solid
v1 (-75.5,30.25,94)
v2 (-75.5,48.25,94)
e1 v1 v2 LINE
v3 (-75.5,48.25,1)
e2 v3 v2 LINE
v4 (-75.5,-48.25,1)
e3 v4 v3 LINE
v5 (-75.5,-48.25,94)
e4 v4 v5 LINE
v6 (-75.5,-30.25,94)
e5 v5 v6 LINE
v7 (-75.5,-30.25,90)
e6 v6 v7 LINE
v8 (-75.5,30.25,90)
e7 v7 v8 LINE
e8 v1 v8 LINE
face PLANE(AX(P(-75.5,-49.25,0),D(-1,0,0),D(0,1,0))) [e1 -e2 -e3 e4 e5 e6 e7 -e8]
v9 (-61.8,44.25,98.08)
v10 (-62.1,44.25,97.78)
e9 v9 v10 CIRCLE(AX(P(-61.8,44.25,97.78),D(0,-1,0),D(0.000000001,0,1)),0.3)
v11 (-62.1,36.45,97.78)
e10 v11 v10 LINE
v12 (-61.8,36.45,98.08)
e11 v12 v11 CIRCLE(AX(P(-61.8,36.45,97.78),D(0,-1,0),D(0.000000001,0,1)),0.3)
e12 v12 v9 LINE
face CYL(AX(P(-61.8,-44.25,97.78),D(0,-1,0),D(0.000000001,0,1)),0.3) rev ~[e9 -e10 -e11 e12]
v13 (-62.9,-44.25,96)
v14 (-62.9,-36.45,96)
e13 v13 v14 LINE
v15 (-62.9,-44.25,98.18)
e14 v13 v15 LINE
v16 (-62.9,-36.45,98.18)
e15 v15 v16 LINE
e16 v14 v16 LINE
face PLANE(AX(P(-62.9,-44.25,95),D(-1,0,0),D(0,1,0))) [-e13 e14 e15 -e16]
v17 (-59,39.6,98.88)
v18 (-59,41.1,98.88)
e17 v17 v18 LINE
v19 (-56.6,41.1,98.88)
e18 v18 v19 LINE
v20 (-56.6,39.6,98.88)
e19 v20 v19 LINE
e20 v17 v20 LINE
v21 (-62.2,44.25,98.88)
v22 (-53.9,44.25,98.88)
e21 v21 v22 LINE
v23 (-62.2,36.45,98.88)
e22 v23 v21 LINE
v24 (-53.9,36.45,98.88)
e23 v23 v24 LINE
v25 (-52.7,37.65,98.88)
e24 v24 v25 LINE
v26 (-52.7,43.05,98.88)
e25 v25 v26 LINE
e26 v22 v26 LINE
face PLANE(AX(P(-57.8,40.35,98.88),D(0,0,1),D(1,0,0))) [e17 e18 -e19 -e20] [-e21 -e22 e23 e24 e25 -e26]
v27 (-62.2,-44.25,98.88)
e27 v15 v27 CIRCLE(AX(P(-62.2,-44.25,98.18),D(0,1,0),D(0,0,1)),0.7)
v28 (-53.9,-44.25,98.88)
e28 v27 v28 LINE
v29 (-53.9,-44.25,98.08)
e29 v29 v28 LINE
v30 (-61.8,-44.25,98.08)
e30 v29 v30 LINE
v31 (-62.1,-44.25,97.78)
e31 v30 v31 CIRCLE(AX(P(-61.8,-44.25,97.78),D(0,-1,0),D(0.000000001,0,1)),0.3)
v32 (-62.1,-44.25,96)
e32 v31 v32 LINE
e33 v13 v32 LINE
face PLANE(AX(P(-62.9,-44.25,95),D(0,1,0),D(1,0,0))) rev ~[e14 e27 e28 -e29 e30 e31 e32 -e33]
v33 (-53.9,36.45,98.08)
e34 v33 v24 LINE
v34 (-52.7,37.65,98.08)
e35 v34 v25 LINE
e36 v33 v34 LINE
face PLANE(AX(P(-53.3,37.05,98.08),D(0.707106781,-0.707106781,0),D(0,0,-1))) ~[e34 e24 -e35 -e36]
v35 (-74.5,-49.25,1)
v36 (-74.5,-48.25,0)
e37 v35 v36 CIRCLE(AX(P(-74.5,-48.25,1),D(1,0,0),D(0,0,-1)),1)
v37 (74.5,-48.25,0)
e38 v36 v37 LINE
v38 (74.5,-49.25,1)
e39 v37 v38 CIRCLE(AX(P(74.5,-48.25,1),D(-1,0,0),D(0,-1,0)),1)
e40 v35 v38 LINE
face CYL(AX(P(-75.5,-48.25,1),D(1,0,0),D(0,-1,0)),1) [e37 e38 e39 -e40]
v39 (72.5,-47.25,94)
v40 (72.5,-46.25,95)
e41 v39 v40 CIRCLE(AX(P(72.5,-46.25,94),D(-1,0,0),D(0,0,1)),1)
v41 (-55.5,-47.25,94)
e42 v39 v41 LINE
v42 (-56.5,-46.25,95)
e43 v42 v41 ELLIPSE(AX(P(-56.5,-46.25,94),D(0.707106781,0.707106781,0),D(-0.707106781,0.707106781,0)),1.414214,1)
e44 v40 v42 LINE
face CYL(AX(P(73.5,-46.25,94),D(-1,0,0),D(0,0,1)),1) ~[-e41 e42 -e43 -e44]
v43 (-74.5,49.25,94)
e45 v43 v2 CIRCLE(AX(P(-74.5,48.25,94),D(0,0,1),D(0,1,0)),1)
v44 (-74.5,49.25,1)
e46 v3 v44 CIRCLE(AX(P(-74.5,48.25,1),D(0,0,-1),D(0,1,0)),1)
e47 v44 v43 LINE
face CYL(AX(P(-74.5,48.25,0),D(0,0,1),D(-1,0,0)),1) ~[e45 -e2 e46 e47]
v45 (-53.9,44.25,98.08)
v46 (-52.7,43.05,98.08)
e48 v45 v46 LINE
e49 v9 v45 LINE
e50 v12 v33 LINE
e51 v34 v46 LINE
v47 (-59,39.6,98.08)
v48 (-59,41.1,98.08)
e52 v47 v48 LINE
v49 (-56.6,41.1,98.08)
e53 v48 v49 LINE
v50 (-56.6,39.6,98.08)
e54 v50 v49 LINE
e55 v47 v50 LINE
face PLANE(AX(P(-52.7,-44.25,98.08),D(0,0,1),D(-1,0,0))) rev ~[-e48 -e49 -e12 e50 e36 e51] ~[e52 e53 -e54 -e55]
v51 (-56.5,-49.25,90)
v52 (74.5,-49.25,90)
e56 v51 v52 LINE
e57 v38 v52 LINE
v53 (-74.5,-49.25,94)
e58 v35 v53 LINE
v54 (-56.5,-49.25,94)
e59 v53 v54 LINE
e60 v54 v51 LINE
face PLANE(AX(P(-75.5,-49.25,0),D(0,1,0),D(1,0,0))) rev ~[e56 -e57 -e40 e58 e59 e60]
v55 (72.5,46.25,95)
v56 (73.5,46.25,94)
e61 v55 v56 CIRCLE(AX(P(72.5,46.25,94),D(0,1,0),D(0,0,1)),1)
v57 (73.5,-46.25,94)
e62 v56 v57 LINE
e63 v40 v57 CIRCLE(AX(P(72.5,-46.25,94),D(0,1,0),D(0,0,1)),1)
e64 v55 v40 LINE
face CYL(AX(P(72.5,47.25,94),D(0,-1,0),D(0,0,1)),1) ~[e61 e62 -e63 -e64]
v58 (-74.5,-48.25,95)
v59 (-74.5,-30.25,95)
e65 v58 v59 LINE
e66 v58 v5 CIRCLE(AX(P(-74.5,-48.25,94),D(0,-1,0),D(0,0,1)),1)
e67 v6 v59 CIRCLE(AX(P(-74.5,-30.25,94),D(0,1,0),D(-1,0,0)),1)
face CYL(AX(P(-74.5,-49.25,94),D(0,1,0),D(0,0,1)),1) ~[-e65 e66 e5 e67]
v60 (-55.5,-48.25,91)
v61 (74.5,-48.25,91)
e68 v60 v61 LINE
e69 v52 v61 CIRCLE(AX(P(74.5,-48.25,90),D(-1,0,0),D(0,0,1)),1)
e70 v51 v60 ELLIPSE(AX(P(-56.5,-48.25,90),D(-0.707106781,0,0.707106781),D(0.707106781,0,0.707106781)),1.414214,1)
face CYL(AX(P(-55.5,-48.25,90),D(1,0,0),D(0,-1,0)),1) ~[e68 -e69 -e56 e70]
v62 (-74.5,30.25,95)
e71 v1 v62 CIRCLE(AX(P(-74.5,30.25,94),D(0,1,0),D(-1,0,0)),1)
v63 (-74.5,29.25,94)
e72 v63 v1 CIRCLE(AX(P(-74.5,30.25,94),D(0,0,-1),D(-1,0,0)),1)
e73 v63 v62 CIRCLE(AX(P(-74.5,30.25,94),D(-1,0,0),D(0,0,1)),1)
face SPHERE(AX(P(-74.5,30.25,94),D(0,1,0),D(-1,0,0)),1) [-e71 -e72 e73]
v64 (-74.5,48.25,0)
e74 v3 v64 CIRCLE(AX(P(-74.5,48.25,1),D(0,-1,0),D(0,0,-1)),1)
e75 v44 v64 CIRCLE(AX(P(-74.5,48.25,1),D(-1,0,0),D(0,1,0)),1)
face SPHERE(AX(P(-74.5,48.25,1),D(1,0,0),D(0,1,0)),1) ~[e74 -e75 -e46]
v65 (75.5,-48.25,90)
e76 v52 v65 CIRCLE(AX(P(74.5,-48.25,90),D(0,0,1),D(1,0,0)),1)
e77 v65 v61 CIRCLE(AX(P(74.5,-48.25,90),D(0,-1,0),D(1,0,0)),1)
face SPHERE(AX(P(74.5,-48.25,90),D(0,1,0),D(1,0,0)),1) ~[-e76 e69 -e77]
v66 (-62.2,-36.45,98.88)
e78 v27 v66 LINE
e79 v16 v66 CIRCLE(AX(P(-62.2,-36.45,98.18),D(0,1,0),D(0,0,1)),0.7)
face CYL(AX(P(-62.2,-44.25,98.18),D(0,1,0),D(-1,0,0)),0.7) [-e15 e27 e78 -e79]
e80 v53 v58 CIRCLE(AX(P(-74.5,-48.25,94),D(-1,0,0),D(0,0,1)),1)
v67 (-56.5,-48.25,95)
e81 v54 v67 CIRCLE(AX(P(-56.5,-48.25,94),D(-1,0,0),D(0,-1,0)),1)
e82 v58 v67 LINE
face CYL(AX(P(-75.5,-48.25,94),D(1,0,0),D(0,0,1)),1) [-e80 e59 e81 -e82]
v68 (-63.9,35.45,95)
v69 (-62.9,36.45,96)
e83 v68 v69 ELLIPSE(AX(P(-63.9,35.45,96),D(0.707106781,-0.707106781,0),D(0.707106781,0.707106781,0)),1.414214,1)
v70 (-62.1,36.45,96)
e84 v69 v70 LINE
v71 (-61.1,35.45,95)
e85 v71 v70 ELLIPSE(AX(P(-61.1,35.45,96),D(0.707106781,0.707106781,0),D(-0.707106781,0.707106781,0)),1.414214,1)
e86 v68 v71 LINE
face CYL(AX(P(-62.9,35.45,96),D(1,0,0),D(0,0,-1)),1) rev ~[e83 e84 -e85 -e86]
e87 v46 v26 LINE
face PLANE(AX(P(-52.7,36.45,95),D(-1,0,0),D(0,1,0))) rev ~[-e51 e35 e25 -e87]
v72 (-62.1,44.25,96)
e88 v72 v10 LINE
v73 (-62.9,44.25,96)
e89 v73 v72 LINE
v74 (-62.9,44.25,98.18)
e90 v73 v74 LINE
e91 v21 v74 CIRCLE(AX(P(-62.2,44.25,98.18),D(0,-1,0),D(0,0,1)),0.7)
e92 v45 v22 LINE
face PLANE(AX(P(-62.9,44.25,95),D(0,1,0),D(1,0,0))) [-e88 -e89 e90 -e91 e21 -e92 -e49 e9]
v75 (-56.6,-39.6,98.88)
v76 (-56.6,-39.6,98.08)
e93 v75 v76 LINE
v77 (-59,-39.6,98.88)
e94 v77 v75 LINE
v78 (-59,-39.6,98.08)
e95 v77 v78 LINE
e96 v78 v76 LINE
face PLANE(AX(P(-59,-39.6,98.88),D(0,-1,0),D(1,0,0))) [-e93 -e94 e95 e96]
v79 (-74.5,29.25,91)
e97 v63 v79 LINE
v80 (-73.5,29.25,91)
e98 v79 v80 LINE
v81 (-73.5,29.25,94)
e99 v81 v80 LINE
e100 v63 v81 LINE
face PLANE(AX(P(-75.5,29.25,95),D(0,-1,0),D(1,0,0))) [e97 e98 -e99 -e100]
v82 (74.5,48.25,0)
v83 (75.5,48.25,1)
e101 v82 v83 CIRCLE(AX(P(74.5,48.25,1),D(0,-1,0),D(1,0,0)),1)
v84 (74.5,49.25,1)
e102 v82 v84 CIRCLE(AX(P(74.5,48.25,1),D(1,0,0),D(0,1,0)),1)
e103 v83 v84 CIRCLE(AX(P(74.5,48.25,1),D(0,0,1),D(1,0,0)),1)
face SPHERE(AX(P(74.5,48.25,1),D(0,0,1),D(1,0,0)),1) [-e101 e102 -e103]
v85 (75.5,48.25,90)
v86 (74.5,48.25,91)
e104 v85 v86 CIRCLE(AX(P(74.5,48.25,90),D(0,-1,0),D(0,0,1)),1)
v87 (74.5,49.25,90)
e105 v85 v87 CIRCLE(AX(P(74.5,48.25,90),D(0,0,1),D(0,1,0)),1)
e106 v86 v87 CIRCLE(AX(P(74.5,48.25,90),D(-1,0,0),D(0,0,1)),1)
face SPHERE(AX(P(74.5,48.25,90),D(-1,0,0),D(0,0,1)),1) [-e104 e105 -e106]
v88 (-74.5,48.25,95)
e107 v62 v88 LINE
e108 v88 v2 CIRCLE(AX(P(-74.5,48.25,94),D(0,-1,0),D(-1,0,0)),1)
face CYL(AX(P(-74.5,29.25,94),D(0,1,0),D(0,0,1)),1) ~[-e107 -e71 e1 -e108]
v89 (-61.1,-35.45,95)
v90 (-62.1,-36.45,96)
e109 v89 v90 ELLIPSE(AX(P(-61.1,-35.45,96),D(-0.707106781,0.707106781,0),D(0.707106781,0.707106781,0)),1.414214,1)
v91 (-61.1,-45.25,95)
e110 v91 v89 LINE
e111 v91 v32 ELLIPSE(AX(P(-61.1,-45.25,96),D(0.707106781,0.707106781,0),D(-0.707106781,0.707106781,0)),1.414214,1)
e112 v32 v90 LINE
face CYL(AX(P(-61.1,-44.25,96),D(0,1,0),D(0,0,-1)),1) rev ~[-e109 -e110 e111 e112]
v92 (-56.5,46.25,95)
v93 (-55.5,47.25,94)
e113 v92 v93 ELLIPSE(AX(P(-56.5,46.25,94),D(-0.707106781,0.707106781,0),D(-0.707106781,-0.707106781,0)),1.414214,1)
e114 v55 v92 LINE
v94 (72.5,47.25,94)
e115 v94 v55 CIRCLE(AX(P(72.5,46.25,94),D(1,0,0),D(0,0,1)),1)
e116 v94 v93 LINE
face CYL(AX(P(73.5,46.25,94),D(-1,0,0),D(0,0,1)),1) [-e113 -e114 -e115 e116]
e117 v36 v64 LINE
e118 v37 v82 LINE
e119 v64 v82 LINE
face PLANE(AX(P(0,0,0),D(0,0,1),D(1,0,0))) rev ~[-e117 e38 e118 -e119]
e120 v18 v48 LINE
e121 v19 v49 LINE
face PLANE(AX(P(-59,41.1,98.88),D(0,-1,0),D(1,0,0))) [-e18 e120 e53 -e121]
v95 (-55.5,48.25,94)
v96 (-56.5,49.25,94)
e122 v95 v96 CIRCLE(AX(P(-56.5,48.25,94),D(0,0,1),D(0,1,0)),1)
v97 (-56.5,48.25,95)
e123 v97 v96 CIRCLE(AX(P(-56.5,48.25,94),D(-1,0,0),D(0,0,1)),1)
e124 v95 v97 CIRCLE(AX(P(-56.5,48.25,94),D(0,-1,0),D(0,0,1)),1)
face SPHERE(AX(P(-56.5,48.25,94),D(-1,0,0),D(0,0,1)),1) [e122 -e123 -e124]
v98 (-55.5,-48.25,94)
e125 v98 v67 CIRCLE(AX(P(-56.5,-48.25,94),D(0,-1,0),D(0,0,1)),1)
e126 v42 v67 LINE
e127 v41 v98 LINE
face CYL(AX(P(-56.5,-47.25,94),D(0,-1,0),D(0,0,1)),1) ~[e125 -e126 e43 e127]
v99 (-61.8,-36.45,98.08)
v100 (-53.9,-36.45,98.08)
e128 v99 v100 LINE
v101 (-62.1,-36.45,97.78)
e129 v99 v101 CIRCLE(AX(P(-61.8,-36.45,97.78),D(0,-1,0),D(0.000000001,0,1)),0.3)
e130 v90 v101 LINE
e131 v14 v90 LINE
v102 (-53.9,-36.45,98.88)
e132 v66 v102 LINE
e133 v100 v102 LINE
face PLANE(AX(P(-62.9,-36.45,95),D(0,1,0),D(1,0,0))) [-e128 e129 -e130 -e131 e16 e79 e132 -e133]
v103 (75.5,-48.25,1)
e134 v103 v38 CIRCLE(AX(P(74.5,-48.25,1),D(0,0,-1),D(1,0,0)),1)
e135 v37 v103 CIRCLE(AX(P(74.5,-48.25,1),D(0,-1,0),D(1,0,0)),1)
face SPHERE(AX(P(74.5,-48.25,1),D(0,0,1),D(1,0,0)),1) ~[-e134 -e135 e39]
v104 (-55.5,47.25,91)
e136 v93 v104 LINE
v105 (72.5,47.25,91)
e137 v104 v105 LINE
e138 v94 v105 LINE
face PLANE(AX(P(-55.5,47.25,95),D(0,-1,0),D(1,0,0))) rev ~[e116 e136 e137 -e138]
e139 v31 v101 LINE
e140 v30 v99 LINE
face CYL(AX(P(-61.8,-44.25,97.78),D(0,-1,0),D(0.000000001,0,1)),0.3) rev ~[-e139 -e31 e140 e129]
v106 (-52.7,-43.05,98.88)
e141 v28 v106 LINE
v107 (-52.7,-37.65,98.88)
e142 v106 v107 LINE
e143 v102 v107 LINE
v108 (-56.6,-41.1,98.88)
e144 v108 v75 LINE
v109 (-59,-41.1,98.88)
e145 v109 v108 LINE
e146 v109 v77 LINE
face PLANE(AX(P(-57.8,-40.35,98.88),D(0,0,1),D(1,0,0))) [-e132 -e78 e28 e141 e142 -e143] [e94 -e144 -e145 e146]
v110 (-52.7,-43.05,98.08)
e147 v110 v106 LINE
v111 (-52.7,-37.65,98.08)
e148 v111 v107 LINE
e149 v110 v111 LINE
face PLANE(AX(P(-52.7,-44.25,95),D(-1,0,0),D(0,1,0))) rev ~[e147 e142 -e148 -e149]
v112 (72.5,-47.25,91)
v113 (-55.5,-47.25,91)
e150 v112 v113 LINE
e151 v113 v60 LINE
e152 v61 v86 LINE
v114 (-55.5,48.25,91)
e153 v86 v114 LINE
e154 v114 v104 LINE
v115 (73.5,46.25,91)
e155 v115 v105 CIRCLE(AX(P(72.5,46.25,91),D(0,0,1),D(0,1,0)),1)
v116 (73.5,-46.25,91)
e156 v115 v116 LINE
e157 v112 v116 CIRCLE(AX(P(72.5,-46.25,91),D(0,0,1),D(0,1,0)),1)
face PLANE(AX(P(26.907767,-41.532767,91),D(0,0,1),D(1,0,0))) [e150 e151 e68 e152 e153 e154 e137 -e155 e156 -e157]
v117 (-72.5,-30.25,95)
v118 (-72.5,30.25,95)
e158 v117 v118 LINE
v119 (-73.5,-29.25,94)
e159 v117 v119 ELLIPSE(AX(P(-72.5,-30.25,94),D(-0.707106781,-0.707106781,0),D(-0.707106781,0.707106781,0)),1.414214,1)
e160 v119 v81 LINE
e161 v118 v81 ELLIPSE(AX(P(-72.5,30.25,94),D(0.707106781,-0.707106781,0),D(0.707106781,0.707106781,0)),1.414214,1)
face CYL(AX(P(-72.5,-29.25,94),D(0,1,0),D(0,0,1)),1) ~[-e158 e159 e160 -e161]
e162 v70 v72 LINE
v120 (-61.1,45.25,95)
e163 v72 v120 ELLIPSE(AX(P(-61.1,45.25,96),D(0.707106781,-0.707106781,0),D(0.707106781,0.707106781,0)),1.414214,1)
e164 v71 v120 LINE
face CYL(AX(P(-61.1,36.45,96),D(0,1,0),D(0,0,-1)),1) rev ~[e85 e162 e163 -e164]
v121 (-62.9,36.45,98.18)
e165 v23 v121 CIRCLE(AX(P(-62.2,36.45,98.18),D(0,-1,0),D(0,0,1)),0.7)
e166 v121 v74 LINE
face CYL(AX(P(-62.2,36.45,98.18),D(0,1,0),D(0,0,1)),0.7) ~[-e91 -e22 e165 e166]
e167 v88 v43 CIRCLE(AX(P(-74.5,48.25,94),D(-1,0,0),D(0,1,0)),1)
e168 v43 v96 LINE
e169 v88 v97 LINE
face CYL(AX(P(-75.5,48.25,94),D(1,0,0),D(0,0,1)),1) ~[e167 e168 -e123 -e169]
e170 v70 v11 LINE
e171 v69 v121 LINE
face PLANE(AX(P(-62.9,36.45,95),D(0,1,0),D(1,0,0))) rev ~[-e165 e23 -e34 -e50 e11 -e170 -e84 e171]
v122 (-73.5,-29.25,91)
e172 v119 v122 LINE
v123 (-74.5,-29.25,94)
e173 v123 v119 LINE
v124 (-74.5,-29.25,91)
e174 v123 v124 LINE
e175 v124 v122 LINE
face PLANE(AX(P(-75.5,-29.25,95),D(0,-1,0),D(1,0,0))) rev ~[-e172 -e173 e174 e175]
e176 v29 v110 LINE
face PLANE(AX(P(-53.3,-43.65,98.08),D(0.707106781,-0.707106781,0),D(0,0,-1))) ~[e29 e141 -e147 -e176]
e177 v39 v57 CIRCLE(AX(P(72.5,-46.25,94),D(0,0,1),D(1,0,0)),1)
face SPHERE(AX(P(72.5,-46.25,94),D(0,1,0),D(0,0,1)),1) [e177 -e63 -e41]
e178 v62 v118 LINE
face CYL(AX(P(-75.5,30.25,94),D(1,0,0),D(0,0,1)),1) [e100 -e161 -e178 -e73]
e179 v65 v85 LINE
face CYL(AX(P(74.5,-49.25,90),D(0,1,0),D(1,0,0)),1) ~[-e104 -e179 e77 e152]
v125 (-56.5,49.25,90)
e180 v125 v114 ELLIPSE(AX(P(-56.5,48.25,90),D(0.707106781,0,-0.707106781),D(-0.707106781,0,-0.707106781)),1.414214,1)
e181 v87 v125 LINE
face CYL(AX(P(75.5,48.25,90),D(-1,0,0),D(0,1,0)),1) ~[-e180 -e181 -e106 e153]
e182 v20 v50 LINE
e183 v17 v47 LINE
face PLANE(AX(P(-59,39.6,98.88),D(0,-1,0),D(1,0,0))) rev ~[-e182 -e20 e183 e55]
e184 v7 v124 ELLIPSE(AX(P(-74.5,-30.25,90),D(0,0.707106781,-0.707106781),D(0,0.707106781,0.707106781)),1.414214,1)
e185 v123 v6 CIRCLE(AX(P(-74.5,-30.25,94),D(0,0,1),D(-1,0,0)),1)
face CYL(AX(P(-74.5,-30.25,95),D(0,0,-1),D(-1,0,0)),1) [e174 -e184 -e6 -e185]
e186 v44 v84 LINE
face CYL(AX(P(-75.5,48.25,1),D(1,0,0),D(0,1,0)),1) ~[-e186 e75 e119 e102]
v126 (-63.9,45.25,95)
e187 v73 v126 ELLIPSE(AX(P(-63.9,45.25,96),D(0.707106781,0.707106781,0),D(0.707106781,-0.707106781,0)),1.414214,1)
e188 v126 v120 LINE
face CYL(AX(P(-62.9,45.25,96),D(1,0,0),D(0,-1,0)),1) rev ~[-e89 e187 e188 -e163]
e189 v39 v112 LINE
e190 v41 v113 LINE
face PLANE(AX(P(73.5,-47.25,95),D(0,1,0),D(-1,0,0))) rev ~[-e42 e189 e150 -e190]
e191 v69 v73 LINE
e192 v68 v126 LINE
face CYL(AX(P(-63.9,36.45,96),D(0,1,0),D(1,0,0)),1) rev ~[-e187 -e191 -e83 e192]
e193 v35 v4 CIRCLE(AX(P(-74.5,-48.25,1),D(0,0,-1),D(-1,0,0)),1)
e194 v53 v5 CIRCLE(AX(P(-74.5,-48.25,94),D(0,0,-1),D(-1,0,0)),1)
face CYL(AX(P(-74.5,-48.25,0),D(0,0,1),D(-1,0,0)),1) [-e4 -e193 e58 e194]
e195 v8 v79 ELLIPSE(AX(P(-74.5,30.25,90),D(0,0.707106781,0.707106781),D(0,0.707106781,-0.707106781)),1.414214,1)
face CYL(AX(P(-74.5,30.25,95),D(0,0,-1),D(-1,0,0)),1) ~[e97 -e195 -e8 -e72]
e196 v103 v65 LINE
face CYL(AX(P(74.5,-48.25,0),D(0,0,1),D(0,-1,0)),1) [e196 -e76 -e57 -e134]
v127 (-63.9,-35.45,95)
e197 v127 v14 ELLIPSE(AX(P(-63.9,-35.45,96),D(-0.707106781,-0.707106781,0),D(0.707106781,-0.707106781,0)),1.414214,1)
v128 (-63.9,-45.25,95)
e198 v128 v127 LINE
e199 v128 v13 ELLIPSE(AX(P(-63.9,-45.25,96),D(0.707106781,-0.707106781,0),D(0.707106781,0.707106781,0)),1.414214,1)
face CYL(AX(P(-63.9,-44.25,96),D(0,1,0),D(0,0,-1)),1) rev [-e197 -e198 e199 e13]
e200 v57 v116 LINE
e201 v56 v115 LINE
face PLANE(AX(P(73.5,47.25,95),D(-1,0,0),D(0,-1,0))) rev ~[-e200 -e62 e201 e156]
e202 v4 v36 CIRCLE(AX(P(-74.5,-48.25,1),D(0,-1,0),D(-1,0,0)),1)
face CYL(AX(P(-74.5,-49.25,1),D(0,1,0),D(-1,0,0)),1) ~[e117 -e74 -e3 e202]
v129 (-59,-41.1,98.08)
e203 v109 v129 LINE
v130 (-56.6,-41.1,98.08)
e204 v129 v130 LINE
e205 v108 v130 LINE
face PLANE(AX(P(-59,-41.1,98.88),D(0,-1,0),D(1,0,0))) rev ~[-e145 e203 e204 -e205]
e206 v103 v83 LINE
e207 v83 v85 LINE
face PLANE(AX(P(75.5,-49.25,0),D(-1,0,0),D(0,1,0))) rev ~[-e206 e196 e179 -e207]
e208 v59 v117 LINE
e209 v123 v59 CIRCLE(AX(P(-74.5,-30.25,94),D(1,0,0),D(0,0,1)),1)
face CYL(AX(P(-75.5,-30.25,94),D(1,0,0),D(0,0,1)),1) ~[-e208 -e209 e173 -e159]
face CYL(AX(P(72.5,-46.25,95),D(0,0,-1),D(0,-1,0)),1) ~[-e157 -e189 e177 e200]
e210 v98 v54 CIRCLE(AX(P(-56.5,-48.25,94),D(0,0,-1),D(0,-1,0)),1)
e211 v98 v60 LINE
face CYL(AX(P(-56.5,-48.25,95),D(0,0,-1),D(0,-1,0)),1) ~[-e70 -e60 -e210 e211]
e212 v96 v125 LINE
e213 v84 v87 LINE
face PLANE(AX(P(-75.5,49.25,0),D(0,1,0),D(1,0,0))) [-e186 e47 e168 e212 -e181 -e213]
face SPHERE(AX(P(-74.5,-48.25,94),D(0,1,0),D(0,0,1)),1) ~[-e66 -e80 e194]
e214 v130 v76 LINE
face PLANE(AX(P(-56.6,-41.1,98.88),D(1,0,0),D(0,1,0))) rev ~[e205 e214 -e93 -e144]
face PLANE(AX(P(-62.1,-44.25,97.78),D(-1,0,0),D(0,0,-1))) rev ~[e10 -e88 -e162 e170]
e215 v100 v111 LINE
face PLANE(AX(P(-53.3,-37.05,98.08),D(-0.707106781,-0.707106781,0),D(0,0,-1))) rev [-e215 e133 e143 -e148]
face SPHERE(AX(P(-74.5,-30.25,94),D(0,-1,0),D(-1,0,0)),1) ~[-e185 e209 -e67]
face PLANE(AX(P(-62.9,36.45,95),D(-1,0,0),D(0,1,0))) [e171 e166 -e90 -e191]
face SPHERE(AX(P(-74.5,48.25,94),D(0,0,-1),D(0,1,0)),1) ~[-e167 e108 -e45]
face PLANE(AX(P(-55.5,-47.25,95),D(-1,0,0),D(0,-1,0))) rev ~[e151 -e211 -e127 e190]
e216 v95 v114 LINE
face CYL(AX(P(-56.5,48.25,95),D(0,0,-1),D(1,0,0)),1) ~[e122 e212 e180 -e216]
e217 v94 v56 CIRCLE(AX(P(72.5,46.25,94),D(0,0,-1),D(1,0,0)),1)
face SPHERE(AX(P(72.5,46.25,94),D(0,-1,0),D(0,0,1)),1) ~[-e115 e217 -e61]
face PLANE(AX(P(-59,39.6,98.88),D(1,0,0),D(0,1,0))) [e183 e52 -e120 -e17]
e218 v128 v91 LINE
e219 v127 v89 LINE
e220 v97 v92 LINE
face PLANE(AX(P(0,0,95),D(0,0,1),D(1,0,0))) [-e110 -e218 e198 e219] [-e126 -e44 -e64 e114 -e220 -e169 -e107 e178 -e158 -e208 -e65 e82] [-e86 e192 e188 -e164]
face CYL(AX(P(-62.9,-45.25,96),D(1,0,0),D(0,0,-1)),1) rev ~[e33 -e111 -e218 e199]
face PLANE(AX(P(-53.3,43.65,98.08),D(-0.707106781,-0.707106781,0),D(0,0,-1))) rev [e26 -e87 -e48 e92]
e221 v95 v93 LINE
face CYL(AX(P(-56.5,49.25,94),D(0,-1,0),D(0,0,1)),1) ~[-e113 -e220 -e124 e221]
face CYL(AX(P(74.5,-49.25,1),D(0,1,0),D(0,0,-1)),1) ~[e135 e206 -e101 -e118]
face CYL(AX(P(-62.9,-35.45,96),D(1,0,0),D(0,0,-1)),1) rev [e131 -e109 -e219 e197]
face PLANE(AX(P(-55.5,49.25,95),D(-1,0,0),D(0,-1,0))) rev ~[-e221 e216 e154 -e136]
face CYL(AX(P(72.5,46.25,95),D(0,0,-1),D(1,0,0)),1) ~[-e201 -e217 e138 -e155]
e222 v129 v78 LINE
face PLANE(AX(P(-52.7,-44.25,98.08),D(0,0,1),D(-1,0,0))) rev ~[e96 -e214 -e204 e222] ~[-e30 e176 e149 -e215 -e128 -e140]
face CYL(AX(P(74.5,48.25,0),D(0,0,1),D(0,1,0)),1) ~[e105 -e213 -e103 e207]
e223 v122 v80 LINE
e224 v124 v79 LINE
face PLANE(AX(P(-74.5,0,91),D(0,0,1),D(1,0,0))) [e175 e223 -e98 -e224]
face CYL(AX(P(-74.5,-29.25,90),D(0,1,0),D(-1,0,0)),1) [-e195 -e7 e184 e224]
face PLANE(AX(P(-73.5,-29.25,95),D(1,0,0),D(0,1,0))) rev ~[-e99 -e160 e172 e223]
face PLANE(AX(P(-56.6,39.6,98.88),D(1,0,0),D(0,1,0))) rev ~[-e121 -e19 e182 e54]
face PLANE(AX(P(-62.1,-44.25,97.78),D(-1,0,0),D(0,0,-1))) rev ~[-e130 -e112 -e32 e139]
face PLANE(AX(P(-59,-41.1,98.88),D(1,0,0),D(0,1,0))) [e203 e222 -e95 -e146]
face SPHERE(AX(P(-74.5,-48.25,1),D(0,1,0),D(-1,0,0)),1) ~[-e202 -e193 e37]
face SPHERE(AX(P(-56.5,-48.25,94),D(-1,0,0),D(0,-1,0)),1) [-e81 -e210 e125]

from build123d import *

# Parameters (mm, degrees)
F0_W      = 151
F0_H      = 98.5
F1_DEPTH  = 95
F2_W      = 2
F2_H      = 58.5
F3_DEPTH  = 4
F4_W      = 10.2
F4_H      = 7.8
F5_DEPTH  = 3.88
F7_DEPTH  = 93.501
F8_W      = 2.4
F8_H      = 1.5
F9_DEPTH  = 0.8
F10_W     = 2.4
F10_H     = 1.5
F11_DEPTH = 2
F12_SIZE  = 1.2
F13_R     = 0.7
F14_R     = 1


with BuildPart() as f1:
    # F0 (on Top) → F1 (new body)
    with BuildSketch(Plane.XY):
        Rectangle(F0_W, F0_H)
    extrude(amount=F1_DEPTH)

    # F2 (on face) → F3 (cut)
    with BuildSketch(Plane.XY.offset(95)):
        Polygon((-55.5, -47.25), (-55.5, -49.25), (75.5, -49.25), (75.5, 0), (73.5, 0), (73.5, -47.25), align=None)
        Polygon((75.5, 49.25), (-55.5, 49.25), (-55.5, 47.25), (73.5, 47.25), (73.5, 0), (75.5, 0), align=None)
        with Locations((-74.5, 0)):
            Rectangle(F2_W, F2_H)
    extrude(amount=-F3_DEPTH, mode=Mode.SUBTRACT)

    # F4 (on face) → F5 (join)
    with BuildSketch(Plane.XY.offset(95)):
        with Locations((-57.8, -40.35)):
            Rectangle(F4_W, F4_H)
        with Locations((-57.8, 40.35)):
            Rectangle(F4_W, F4_H)
    extrude(amount=F5_DEPTH)

    # F6 (on face) → F7 (cut, through all)
    with BuildSketch(Plane.XZ.offset(44.25)):
        with BuildLine():
            Line((-62.1, 97.78), (-62.1, 95))
            Line((-62.1, 95), (-52.7, 95))
            Line((-52.7, 95), (-52.7, 98.08))
            Line((-52.7, 98.08), (-61.8, 98.08))
            ThreePointArc((-61.8, 98.08), (-62.0121320344, 97.9921320344), (-62.1, 97.78))
        make_face()
    extrude(amount=-F7_DEPTH, mode=Mode.SUBTRACT)

    # F8 (on face) → F9 (cut, through all)
    with BuildSketch(Plane.XY.offset(98.88)):
        with Locations((-57.8, 40.35)):
            Rectangle(F8_W, F8_H)
    extrude(amount=-F9_DEPTH, mode=Mode.SUBTRACT)

    # F10 (on face) → F11 (cut)
    with BuildSketch(Plane.XY.offset(98.88)):
        with Locations((-57.8, -40.35)):
            Rectangle(F10_W, F10_H)
    extrude(amount=-F11_DEPTH, mode=Mode.SUBTRACT)

    # F12
    f12_edges = [f1.edges().sort_by_distance(p)[0] for p in [
        (-52.7, -44.25, 98.48),
        (-52.7, -36.45, 98.48),
        (-52.7, 36.45, 98.48),
        (-52.7, 44.25, 98.48),
    ]]
    chamfer(f12_edges, length=F12_SIZE)

    # F13
    f13_edges = [f1.edges().sort_by_distance(p)[0] for p in [
        (-62.9, -40.35, 98.88),
        (-62.9, 40.35, 98.88),
    ]]
    fillet(f13_edges, radius=F13_R)

    # F14
    f14_edges = [f1.edges().sort_by_distance(p)[0] for p in [
        (73.5, 0, 95),
        (9, 47.25, 95),
        (10, 49.25, 91),
        (75.5, 0, 91),
        (75.5, 49.25, 45.5),
        (73.5, 47.25, 93),
        (75.5, -49.25, 45.5),
        (75.5, 0, 0),
        (0, 49.25, 0),
        (-75.5, 49.25, 47.5),
        (-65.5, 49.25, 95),
        (-55.5, 48.25, 95),
        (-55.5, 49.25, 93),
        (-75.5, 39.25, 95),
        (-73.5, 0, 95),
        (-75.5, 0, 91),
        (-75.5, -39.25, 95),
        (-65.5, -49.25, 95),
        (9, -47.25, 95),
        (-75.5, 0, 0),
        (-75.5, -49.25, 47.5),
        (0, -49.25, 0),
        (10, -49.25, 91),
        (-55.5, -49.25, 93),
        (73.5, -47.25, 93),
        (-75.5, -29.25, 93),
        (-75.5, 29.25, 93),
        (-74.5, 29.25, 95),
        (-62.5, 44.25, 95),
        (-62.1, 40.35, 95),
        (-62.5, 36.45, 95),
        (-62.9, 40.35, 95),
        (-62.5, -36.45, 95),
        (-62.1, -40.35, 95),
        (-62.5, -44.25, 95),
        (-62.9, -40.35, 95),
        (-74.5, -29.25, 95),
        (-55.5, -48.25, 95),
    ]]
    fillet(f14_edges, radius=F14_R)


solid = f1.part
